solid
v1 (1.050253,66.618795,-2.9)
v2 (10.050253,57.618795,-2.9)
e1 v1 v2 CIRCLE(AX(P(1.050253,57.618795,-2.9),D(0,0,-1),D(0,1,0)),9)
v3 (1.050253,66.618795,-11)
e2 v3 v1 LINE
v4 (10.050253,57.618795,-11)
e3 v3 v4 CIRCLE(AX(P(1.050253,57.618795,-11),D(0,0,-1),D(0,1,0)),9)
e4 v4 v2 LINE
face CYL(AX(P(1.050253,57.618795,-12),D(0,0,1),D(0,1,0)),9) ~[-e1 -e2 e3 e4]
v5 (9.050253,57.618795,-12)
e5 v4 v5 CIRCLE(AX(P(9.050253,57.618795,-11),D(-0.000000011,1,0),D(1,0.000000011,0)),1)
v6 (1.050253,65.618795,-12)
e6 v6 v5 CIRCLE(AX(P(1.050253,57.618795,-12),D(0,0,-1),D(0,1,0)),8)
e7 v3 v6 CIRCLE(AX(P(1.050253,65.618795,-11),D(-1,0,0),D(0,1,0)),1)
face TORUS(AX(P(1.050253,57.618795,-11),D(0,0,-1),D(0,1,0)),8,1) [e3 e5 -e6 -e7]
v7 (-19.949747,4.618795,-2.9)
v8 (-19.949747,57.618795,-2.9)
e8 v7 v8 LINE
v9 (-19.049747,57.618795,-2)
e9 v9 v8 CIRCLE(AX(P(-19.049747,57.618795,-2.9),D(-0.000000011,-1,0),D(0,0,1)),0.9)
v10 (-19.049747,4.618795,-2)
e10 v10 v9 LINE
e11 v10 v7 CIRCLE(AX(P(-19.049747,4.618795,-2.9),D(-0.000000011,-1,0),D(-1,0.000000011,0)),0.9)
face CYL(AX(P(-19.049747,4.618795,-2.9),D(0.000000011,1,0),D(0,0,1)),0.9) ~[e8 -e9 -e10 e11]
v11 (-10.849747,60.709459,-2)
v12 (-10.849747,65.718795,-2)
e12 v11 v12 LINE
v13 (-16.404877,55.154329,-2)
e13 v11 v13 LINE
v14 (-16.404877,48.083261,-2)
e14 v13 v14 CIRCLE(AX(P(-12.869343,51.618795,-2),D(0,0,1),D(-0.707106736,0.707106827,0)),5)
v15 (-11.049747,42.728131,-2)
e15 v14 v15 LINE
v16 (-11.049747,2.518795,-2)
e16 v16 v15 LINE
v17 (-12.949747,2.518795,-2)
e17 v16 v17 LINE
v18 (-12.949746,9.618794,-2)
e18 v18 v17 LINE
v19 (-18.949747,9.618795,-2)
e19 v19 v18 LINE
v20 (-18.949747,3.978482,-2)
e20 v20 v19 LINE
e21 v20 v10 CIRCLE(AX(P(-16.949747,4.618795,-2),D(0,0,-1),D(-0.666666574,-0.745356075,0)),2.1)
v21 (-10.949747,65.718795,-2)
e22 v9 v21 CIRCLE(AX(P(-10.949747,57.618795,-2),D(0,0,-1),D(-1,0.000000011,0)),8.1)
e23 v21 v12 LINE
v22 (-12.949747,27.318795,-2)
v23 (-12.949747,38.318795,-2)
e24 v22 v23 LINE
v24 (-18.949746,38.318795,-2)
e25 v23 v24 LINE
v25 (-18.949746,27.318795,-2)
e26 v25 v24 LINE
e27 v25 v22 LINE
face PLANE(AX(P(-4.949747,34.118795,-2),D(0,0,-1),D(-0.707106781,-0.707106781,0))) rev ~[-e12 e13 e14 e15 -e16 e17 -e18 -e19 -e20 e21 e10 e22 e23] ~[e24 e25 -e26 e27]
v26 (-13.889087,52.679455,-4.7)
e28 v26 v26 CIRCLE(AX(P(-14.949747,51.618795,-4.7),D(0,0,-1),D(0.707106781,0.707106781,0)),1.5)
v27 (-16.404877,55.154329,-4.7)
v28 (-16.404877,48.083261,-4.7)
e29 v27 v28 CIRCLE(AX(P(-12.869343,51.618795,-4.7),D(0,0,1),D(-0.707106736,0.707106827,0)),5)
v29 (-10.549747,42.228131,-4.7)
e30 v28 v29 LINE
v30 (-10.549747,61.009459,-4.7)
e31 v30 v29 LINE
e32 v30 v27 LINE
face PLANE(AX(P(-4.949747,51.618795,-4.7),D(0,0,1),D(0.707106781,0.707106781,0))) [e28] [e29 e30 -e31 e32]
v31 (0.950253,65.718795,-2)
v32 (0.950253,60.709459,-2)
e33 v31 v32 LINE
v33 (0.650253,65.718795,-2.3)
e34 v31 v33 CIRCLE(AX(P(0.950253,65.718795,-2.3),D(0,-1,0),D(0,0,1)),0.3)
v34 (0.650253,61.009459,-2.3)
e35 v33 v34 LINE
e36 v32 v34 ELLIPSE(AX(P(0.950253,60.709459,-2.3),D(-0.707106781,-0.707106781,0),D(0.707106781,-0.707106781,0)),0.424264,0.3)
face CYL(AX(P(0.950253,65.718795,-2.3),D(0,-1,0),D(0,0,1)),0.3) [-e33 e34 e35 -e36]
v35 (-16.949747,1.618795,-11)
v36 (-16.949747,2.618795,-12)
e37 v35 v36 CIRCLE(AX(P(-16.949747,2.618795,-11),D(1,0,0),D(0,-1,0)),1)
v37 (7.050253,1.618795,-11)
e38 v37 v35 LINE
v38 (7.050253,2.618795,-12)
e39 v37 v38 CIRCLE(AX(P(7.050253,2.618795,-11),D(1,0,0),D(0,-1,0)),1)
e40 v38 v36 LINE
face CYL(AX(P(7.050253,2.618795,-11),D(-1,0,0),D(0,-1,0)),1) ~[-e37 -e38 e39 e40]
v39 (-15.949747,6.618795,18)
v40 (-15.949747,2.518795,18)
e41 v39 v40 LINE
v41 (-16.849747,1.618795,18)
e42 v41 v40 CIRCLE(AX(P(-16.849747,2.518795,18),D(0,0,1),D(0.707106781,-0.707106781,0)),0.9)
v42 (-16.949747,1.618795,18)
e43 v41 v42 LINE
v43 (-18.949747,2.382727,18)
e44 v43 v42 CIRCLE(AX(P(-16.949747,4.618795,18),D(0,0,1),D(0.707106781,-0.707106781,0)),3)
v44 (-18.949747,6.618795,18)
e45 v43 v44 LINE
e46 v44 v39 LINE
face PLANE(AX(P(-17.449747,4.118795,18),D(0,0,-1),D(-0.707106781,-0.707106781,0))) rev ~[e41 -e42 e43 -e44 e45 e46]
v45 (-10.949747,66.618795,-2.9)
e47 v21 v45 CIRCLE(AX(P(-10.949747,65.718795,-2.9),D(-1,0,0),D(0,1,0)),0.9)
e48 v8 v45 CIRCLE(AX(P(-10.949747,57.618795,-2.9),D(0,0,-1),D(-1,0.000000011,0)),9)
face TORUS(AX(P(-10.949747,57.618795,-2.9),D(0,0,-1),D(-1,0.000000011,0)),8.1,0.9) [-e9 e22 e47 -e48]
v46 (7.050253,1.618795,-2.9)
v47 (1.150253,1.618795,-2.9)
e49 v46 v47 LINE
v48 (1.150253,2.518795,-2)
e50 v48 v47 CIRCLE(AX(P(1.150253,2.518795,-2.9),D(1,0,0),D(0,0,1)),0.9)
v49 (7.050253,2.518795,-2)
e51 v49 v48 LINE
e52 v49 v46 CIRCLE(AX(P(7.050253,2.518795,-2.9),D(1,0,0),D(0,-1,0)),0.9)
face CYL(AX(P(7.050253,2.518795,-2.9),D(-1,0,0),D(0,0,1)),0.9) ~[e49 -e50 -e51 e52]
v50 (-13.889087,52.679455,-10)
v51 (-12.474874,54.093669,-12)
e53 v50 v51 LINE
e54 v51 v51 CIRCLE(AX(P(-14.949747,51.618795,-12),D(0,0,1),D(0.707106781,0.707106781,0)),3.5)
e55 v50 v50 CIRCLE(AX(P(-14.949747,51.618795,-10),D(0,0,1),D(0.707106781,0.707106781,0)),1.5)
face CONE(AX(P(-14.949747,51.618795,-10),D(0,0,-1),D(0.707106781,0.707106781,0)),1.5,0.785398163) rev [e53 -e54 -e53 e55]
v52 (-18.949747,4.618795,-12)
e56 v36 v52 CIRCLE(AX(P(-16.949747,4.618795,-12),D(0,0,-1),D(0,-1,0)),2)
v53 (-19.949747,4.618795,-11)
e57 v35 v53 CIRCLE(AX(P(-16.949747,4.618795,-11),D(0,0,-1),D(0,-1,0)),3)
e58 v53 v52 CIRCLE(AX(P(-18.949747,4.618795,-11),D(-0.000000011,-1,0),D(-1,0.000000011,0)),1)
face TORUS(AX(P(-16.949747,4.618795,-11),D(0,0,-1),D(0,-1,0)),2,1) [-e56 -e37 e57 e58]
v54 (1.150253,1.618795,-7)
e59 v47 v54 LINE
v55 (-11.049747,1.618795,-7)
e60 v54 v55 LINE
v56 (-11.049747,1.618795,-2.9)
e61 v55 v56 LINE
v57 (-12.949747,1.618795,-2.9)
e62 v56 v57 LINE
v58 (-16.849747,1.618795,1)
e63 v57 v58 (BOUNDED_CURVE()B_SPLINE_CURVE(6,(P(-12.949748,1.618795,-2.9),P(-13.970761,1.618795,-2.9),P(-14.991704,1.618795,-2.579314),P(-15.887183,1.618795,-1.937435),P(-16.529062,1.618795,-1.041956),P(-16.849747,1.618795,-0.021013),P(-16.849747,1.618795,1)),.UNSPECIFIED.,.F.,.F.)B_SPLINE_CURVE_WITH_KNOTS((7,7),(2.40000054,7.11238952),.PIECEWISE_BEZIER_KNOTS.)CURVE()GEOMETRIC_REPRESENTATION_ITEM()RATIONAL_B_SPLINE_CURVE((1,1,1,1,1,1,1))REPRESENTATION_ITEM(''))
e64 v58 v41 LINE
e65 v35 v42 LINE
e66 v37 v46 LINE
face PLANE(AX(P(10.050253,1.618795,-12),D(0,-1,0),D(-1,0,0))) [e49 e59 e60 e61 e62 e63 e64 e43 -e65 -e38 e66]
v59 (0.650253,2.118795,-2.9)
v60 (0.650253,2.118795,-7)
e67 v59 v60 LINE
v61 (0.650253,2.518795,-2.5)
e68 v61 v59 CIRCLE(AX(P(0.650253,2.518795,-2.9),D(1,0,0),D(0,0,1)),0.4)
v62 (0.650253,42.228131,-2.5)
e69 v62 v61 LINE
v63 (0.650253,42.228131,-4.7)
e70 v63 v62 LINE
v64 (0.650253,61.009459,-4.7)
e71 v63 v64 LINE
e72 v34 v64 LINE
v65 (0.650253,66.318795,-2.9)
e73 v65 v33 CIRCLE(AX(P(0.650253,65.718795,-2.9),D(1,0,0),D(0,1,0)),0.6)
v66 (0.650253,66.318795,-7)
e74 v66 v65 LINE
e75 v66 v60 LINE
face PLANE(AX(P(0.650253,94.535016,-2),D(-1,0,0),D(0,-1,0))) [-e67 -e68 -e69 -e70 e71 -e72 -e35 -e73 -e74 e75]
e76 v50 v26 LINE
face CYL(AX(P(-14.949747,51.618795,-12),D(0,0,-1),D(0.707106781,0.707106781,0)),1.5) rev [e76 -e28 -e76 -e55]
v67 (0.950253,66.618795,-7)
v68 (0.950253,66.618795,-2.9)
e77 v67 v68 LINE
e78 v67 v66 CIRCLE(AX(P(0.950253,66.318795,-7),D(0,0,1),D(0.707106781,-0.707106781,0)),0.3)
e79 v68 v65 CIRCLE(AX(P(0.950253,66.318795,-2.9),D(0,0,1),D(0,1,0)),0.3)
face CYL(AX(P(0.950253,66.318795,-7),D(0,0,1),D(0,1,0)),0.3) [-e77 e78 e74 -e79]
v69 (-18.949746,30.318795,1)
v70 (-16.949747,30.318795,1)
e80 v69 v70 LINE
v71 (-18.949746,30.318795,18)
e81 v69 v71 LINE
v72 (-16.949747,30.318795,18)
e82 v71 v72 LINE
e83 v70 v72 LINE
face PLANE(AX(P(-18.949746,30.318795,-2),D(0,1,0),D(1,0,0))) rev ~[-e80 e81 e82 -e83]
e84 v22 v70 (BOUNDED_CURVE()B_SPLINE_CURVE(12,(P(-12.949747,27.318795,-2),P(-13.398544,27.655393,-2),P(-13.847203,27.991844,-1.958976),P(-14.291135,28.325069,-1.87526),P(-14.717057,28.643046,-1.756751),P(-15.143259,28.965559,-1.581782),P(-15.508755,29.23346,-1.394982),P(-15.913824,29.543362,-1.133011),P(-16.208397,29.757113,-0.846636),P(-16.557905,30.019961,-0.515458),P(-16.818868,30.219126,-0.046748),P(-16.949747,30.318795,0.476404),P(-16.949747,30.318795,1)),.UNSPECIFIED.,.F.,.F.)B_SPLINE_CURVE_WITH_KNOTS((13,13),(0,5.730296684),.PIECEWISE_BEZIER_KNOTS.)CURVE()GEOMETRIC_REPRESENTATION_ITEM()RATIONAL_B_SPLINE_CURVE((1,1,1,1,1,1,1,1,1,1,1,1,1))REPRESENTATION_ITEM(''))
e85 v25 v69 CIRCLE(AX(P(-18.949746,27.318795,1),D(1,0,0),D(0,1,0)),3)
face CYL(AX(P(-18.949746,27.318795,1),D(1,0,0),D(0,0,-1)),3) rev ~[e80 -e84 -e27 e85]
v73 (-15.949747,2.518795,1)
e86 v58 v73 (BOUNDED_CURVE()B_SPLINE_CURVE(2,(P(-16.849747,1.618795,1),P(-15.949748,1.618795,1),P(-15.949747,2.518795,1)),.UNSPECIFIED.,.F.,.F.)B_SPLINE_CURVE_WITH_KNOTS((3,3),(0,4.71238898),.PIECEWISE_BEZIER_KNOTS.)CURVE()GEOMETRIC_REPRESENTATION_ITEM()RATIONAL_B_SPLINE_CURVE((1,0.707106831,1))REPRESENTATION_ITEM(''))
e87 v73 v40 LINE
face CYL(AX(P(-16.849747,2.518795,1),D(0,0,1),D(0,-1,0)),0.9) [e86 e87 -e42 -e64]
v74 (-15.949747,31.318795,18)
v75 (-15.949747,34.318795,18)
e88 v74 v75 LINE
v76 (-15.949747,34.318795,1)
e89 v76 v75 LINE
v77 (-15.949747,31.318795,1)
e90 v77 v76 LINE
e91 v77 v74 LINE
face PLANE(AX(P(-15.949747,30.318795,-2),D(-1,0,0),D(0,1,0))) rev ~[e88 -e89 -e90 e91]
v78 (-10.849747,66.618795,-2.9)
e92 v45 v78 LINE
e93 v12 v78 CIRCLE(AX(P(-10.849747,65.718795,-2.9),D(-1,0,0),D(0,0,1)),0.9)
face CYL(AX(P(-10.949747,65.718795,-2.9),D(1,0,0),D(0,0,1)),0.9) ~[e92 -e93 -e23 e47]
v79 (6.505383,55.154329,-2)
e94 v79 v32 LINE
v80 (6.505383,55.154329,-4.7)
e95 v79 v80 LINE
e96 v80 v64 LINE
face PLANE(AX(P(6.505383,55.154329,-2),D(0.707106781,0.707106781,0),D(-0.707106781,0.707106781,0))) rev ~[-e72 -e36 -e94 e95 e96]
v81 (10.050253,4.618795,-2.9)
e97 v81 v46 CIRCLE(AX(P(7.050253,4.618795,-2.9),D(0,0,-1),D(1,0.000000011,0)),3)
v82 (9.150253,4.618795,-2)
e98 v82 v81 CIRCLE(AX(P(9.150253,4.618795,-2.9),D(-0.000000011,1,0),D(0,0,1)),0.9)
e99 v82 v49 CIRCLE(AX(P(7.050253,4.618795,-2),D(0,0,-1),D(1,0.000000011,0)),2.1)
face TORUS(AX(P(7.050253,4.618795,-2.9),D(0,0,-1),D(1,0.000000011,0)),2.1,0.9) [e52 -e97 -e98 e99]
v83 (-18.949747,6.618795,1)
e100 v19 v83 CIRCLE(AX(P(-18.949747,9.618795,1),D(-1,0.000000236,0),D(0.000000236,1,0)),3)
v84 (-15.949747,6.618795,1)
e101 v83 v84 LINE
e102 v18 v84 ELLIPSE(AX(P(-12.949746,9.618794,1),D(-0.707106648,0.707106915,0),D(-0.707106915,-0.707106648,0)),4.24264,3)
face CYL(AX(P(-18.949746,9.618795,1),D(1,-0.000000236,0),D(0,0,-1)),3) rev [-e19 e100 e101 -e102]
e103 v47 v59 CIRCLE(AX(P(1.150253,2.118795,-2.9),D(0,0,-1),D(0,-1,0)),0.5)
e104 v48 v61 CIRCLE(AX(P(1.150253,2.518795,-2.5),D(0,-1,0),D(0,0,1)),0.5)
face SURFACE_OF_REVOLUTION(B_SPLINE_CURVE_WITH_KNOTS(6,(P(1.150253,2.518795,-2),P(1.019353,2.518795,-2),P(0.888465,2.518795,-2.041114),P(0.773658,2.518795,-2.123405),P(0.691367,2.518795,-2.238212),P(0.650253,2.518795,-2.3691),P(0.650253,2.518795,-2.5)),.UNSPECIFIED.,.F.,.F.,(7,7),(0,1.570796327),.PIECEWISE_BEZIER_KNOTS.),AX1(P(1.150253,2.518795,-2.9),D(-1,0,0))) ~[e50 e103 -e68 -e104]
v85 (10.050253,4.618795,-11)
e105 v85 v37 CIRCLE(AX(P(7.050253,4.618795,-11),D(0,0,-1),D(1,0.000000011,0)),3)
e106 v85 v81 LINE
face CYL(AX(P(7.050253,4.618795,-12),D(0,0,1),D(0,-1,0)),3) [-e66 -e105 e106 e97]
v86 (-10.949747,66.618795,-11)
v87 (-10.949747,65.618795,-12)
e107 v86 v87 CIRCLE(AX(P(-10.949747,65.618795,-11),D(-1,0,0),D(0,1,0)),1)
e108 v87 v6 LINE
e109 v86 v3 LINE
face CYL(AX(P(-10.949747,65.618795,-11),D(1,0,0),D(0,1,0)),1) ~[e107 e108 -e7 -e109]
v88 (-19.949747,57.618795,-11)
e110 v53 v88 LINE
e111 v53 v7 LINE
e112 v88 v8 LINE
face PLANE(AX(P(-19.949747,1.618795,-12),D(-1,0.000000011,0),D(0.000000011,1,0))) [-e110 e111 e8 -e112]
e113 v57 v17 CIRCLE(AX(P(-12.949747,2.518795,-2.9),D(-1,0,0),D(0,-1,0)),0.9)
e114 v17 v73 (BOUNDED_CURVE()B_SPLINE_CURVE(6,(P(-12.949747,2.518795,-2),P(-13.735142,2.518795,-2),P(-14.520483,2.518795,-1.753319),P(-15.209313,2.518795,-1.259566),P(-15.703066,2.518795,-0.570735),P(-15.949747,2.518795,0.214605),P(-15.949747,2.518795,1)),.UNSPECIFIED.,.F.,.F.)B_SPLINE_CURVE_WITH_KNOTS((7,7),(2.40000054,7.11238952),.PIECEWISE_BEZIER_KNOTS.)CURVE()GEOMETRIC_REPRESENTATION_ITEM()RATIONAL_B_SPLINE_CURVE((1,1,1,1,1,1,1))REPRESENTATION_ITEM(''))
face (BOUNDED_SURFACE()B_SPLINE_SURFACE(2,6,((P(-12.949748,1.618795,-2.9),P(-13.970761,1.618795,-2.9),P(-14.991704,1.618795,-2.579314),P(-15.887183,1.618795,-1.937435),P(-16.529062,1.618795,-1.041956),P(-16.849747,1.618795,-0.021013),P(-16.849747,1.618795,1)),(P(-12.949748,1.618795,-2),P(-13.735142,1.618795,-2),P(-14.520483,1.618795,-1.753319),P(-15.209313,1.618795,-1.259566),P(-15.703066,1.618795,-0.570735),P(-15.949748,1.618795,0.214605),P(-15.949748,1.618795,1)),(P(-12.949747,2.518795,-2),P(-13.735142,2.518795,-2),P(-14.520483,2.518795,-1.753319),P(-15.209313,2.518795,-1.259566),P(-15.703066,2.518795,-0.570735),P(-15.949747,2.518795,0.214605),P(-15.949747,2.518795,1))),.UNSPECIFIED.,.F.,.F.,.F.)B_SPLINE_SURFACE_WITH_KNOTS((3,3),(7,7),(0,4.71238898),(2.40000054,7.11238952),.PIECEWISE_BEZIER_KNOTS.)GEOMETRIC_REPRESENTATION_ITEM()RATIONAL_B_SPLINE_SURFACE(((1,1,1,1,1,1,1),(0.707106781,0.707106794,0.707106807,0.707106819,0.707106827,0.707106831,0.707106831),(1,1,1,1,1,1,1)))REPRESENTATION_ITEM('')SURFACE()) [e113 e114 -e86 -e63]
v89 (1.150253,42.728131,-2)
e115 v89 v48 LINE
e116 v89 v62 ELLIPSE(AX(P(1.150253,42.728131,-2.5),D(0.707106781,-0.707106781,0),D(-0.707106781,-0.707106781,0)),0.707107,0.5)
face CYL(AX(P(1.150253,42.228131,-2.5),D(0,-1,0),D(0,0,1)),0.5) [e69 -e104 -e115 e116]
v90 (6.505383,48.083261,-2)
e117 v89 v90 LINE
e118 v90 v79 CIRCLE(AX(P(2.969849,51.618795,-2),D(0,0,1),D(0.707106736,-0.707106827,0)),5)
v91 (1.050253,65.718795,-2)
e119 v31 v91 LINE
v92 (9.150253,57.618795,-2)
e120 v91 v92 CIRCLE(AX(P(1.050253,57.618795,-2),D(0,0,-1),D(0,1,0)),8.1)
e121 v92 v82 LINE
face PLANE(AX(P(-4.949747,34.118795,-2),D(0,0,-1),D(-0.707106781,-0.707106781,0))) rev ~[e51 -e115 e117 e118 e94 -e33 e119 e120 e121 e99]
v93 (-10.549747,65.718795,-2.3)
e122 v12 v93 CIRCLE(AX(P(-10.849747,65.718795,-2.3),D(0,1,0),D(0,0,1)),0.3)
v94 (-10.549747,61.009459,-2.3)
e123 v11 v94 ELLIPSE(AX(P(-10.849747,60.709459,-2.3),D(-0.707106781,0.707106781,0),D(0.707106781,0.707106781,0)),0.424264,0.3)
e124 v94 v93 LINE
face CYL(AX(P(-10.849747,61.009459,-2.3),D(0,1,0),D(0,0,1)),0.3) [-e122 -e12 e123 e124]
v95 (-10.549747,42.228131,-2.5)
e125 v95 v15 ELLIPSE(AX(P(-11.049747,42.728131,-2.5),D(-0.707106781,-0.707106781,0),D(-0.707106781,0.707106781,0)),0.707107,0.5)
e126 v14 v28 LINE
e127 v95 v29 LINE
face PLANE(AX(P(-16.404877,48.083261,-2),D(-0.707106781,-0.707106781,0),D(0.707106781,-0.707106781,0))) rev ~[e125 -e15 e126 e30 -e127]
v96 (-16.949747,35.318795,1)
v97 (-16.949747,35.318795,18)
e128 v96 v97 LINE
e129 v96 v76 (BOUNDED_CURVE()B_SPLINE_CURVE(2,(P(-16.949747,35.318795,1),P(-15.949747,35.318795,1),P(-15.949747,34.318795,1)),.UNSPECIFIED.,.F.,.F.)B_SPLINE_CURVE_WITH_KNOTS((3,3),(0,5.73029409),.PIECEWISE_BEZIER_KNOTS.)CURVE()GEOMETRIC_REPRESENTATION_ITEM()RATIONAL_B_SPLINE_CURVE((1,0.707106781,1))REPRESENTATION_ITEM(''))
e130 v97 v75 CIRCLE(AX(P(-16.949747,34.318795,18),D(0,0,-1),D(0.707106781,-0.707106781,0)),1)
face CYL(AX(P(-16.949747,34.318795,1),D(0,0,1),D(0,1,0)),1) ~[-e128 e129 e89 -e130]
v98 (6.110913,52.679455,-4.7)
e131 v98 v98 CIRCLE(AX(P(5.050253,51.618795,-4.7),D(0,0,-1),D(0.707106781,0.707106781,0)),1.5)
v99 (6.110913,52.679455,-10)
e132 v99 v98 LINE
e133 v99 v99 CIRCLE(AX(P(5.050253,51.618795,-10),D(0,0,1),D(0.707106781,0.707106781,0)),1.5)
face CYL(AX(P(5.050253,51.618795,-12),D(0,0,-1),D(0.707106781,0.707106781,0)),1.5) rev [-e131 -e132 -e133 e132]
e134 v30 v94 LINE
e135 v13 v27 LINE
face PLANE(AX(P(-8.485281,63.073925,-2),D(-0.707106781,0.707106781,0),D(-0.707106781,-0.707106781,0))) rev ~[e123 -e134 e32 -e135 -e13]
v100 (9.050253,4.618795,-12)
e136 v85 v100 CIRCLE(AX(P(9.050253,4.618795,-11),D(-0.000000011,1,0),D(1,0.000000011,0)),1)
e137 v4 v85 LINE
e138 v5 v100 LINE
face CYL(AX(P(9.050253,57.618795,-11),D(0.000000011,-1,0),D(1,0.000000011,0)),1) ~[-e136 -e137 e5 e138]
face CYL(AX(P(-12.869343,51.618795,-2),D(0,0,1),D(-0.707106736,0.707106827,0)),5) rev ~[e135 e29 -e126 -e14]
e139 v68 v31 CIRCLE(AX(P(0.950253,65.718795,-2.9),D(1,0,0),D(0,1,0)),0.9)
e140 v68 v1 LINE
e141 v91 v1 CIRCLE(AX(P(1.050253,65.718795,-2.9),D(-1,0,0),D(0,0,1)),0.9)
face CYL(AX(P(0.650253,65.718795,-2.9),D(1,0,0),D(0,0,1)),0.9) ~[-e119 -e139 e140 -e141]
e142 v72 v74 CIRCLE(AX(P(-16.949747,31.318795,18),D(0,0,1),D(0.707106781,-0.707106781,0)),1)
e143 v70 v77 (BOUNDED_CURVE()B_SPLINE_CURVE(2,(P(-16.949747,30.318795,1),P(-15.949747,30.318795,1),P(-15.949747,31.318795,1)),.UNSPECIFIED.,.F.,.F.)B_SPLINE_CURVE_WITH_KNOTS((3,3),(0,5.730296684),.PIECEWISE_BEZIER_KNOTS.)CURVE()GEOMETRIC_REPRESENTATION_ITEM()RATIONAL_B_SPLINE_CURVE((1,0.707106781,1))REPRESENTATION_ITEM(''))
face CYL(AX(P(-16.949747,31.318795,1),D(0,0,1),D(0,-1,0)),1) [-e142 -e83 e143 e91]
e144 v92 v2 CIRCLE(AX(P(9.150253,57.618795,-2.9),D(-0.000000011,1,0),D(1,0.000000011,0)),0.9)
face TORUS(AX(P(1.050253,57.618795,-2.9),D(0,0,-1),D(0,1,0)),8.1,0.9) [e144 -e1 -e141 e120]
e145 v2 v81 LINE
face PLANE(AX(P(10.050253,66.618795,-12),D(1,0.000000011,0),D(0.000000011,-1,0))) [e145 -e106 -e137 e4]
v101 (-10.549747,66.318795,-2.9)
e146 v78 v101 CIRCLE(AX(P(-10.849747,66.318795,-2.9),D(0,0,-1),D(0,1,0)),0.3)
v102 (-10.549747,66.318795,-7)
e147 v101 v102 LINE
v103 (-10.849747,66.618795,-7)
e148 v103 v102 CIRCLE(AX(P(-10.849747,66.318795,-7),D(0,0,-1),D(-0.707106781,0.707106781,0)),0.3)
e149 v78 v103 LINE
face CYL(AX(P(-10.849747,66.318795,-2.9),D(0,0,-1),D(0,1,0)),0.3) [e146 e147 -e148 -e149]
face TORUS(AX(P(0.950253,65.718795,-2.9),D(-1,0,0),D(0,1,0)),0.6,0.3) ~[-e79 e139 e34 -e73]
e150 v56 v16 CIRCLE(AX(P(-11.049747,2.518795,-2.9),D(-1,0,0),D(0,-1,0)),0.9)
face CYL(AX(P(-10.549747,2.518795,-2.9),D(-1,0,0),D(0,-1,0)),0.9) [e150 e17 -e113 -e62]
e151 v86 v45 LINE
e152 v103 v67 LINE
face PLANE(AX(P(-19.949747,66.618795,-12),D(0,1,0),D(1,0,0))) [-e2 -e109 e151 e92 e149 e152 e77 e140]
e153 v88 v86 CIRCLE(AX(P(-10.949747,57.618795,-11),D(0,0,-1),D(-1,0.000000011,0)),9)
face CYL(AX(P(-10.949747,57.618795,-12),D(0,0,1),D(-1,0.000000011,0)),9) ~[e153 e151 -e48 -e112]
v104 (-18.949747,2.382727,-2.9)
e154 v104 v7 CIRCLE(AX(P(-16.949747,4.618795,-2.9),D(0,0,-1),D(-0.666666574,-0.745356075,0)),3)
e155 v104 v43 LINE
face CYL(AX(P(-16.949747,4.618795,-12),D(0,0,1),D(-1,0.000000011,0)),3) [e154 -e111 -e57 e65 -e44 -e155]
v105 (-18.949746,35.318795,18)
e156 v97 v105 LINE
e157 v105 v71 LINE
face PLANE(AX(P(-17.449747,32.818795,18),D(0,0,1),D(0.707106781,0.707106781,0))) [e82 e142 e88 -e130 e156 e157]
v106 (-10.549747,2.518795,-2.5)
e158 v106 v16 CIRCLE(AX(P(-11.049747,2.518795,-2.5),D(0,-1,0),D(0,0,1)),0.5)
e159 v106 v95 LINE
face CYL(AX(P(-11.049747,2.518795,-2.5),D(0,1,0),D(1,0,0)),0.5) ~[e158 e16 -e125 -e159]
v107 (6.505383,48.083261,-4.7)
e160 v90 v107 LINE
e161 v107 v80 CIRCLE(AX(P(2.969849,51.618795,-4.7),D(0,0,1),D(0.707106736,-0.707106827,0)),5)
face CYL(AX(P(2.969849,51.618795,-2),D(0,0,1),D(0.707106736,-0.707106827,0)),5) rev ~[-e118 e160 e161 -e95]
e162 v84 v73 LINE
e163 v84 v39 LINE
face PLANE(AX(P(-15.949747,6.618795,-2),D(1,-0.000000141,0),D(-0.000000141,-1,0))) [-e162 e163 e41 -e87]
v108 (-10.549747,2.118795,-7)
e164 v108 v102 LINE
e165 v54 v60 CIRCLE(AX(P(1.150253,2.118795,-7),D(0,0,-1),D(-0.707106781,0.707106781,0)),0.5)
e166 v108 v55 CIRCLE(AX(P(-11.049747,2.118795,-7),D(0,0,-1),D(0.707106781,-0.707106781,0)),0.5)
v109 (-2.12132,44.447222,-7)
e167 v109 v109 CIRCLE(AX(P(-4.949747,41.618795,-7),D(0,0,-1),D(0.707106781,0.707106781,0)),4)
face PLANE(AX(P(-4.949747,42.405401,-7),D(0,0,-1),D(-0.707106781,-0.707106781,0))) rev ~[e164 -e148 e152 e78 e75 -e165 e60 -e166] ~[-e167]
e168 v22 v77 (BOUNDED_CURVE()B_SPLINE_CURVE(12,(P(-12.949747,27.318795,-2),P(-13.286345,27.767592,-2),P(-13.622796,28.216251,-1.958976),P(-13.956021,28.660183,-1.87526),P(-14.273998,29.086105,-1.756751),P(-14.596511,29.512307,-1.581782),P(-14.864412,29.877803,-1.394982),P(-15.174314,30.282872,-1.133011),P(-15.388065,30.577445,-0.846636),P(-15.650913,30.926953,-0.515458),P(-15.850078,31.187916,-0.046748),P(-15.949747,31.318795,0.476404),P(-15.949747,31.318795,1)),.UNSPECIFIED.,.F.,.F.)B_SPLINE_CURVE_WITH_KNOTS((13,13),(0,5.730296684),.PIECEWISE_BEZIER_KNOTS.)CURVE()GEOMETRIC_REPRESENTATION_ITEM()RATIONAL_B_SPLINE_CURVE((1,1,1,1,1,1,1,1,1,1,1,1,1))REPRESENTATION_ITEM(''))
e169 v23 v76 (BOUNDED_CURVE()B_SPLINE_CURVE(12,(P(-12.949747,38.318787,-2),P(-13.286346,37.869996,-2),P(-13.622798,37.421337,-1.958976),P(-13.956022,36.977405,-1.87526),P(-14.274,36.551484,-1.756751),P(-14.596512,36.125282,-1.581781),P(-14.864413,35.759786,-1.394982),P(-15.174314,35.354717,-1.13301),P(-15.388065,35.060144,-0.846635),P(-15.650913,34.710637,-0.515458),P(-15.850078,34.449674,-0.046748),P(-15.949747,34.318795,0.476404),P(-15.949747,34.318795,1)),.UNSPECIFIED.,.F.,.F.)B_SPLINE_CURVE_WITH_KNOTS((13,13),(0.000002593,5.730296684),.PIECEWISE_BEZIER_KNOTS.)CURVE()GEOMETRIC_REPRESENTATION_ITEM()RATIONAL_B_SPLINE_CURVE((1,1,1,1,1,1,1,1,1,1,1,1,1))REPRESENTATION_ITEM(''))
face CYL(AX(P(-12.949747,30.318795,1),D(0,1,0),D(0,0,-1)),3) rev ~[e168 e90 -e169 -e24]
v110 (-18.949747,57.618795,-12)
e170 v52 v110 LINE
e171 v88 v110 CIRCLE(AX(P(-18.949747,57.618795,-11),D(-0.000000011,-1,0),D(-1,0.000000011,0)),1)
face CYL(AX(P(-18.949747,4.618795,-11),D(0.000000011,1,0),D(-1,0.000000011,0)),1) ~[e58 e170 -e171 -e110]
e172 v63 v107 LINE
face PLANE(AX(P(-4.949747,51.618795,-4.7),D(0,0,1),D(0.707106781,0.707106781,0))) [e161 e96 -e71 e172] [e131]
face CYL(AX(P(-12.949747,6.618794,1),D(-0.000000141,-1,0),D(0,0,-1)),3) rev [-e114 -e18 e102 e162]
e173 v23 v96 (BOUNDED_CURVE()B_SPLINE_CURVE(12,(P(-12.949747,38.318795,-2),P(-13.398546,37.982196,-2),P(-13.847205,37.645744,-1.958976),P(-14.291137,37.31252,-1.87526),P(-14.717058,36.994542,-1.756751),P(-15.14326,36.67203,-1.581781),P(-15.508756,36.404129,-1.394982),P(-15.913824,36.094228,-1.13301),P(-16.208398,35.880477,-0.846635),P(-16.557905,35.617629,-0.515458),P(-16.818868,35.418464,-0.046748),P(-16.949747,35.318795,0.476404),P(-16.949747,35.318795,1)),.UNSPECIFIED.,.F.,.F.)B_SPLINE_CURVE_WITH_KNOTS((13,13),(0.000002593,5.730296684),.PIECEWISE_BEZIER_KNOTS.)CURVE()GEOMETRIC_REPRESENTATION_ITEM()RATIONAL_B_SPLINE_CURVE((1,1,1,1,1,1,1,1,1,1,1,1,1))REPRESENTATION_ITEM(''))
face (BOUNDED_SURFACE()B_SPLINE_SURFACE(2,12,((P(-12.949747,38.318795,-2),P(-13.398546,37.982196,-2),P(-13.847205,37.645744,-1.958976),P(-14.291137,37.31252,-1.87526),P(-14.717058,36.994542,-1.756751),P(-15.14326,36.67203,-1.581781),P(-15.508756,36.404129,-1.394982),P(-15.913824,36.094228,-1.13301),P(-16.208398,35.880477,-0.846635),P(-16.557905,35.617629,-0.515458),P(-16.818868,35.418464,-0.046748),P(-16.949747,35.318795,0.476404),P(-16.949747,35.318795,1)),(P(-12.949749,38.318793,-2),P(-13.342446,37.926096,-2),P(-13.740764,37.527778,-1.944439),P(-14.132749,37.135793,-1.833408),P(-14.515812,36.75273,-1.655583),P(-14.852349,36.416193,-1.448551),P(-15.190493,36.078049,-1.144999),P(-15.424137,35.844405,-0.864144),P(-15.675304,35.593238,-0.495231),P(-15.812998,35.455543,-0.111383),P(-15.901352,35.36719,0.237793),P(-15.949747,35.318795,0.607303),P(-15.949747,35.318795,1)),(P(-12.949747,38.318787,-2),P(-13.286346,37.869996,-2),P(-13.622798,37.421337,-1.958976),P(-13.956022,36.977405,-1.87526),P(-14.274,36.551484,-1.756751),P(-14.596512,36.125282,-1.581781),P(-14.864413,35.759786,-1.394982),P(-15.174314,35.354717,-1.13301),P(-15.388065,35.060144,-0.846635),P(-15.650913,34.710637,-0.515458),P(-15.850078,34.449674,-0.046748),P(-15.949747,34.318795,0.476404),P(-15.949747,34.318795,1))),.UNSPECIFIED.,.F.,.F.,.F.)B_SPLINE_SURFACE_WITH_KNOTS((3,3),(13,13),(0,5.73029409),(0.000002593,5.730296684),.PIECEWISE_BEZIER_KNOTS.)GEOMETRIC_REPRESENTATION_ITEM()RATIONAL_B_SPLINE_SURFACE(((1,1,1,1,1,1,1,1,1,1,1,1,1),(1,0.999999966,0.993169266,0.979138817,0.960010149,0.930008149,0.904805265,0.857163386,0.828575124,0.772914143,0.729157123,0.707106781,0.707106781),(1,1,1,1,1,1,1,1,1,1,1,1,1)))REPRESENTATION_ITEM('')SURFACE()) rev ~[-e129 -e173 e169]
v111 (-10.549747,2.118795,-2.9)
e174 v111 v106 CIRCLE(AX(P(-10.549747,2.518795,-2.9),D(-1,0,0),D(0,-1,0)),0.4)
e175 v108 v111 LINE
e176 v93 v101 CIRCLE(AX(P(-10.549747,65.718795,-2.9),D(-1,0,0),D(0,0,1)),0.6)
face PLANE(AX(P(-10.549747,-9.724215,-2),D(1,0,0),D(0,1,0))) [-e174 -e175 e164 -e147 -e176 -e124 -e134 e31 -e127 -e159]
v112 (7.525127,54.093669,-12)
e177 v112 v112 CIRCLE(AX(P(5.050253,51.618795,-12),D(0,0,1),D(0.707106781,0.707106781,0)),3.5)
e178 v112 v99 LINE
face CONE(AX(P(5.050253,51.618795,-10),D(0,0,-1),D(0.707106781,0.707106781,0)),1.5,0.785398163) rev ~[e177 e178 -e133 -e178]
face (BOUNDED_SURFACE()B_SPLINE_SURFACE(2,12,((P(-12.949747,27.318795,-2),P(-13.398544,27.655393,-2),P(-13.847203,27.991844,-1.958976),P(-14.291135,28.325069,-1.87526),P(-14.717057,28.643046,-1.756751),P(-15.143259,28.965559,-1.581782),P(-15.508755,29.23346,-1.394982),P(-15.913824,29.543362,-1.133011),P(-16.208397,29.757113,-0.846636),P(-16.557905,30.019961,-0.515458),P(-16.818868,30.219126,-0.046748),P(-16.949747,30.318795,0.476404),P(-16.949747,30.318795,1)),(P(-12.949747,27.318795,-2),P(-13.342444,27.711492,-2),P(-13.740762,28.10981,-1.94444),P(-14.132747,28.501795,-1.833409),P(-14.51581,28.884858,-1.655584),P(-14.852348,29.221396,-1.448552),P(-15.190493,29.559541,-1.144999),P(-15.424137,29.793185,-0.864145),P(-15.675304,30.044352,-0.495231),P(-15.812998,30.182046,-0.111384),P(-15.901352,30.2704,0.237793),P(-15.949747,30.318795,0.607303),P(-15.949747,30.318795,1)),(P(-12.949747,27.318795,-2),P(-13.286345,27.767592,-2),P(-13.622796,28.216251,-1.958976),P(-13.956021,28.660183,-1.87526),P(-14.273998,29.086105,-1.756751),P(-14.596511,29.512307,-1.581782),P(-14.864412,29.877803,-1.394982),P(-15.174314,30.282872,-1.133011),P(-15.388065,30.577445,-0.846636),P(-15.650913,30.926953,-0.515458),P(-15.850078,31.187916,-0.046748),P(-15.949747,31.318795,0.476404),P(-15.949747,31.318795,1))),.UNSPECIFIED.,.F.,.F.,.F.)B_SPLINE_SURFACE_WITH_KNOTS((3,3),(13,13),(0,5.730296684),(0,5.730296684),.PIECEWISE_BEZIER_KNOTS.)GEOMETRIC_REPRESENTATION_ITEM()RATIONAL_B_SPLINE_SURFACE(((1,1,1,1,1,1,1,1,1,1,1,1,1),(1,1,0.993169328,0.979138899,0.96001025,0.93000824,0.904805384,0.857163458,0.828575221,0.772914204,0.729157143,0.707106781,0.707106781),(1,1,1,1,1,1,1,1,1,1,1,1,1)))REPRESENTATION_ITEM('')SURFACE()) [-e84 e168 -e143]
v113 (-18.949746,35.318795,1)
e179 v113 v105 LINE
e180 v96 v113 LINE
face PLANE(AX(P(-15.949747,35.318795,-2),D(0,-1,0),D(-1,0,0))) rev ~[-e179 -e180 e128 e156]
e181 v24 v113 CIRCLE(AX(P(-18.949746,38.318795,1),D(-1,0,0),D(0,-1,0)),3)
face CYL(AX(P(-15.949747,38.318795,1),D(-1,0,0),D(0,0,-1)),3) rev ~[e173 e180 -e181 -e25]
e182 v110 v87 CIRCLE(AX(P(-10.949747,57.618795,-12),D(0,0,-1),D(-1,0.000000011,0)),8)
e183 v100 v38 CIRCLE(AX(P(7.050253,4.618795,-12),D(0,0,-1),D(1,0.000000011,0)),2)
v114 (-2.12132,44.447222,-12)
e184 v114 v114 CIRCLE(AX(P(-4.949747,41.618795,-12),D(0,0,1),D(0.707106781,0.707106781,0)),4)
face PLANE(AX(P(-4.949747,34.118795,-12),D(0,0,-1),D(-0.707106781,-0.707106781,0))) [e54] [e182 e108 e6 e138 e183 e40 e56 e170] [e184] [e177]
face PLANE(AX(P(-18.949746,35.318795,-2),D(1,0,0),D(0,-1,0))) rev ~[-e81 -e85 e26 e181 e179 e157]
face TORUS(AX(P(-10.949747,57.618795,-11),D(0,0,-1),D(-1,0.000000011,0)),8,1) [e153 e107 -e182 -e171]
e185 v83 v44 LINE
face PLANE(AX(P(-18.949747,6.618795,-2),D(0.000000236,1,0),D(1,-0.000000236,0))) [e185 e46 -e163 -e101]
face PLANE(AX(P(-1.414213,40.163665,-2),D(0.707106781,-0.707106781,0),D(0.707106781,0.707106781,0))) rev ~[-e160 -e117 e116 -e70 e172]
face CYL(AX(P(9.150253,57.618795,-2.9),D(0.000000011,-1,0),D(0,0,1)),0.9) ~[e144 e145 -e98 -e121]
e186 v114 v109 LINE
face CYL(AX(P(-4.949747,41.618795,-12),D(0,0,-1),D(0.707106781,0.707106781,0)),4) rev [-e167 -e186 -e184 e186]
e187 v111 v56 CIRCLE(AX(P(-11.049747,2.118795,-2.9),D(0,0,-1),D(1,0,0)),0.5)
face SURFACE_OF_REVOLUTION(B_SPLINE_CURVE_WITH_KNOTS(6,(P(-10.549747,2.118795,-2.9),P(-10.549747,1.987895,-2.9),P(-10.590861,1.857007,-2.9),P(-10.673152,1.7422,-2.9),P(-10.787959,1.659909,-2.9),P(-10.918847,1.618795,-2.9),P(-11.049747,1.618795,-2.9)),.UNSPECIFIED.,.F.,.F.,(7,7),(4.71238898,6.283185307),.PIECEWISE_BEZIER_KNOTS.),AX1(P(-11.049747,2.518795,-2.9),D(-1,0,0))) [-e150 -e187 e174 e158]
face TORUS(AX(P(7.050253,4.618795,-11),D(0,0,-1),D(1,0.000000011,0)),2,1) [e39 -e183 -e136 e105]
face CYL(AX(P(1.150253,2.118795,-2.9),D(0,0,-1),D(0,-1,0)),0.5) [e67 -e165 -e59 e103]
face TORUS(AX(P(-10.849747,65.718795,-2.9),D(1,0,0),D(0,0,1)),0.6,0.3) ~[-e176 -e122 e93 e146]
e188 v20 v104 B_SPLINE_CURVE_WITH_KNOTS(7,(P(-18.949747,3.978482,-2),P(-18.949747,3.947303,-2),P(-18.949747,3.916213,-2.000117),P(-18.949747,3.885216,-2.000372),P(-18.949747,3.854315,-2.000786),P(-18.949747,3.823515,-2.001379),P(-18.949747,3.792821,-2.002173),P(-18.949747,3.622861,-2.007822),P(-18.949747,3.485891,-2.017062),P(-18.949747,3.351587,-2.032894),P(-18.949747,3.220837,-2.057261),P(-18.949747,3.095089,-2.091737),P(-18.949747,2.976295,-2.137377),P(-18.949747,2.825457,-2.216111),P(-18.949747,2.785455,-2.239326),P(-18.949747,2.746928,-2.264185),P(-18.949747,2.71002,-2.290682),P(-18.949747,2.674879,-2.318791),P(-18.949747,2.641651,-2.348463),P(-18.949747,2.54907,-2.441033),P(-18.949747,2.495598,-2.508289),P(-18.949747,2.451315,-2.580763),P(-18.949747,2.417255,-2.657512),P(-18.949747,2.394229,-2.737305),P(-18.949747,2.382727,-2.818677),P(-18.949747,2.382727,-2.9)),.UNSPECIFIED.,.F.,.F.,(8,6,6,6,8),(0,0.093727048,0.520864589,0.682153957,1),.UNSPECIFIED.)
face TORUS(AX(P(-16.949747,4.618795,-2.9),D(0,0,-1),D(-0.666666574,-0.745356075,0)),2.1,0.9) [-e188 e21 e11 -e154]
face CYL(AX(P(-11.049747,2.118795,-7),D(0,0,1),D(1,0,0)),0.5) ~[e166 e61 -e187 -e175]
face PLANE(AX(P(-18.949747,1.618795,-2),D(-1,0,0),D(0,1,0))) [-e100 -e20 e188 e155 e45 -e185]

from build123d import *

# Parameters (mm, degrees)
SKETCH010_R             = 4
SKETCH010_R_2           = 1.5
PAD_DEPTH               = 10
POCKET003_DEPTH         = 5
POCKET004_DEPTH         = 2.7
PAD010_DEPTH            = 20
FILLET001_R             = 9
FILLET002_R             = 3
FILLET003_R             = 3
FILLET004_R             = 0.9
CHAMFER_SIZE            = 2
FILLET005_R             = 0.9
FILLET006_R             = 1
FILLET007_R             = 0.5
FILLET008_R             = 0.3
FILLET009_R             = 1
BODY001_PLACEMENT_ANGLE = 45


with BuildPart() as part:
    # Sketch010 → Pad (new body)
    with BuildSketch(Plane.XY):
        Polygon((-45.961941, -24.748737), (0, 21.213203), (21.213203, 0), (-24.748737, -45.961941), align=None)
        with Locations((-7.071068, -7.071068)):
            Circle(SKETCH010_R, mode=Mode.SUBTRACT)
        with Locations((-7.071068, 7.071068)):
            Circle(SKETCH010_R_2, mode=Mode.SUBTRACT)
        with Locations((7.071068, -7.071068)):
            Circle(SKETCH010_R_2, mode=Mode.SUBTRACT)
    extrude(amount=PAD_DEPTH)

    # Sketch011 → Pocket003 (cut)
    with BuildSketch(Plane.XY.offset(10)):
        Polygon((-47.335856, -39.41626), (26.386553, 34.306149), (34.306149, 26.386553), (-39.41626, -47.335856), align=None)
    extrude(amount=-POCKET003_DEPTH, mode=Mode.SUBTRACT)

    # Sketch017 → Pocket004 (cut)
    with BuildSketch(Plane.XY.offset(10)):
        with BuildLine():
            ThreePointArc((-5.6, 10.6), (-9.135534, 9.135534), (-10.6, 5.6))
            Line((-10.6, 5.6), (-10.6, -5.6))
            ThreePointArc((-10.6, -5.6), (-9.135534, -9.135534), (-5.6, -10.6))
            Line((-5.6, -10.6), (5.6, -10.6))
            ThreePointArc((5.6, -10.6), (9.135534, -9.135534), (10.6, -5.6))
            Line((10.6, -5.6), (10.6, 5.6))
            ThreePointArc((10.6, 5.6), (9.135534, 9.135534), (5.6, 10.6))
            Line((5.6, 10.6), (-5.6, 10.6))
        make_face()
    extrude(amount=-POCKET004_DEPTH, mode=Mode.SUBTRACT)

    # Sketch023 → Pad010 (join)
    with BuildSketch(Plane.XY.offset(10)):
        Polygon((-41.7193, -21.92031), (-39.59798, -24.041631), (-43.133514, -27.577164), (-45.254834, -25.455844), align=None)
        Polygon((-24.960869, -5.16188), (-22.839549, -7.2832), (-19.304015, -3.747666), (-21.425335, -1.626346), align=None)
    extrude(amount=PAD010_DEPTH)

    # Fillet001
    fillet001_edges = [part.edges().sort_by_distance(p)[0] for p in [
        (0, 21.213203, 5),
        (21.213203, 0, 5),
    ]]
    fillet(fillet001_edges, radius=FILLET001_R)

    # Fillet002
    fillet002_edges = [part.edges().sort_by_distance(p)[0] for p in [
        (-45.961941, -24.748737, 5),
        (-24.748737, -45.961941, 5),
    ]]
    fillet(fillet002_edges, radius=FILLET002_R)

    # Fillet003
    fillet003_edges = [part.edges().sort_by_distance(p)[0] for p in [
        (-41.365747, -25.809398, 10),
        (-21.071782, -5.515433, 10),
        (-40.65864, -22.98097, 10),
        (-20.364675, -2.687006, 10),
        (-23.900209, -6.22254, 10),
    ]]
    fillet(fillet003_edges, radius=FILLET003_R)

    # Fillet004
    fillet004_edges = [part.edges().sort_by_distance(p)[0] for p in [
        (-25.102291, -3.889087, 10),
        (-3.889087, -25.102291, 10),
    ]]
    fillet(fillet004_edges, radius=FILLET004_R)

    # Chamfer
    chamfer_edges = [part.edges().sort_by_distance(p)[0] for p in [
        (5.571068, -7.071068, 0),
        (-8.571068, 7.071068, 0),
    ]]
    chamfer(chamfer_edges, length=CHAMFER_SIZE)

    # Fillet005
    fillet005_edges = [part.edges().sort_by_distance(p)[0] for p in [
        (-40.163665, -30.547013, 10),
    ]]
    fillet(fillet005_edges, radius=FILLET005_R)

    # Fillet006
    fillet006_edges = [part.edges().sort_by_distance(p)[0] for p in [
        (-22.839549, -7.2832, 21.5),
        (-19.304015, -3.747666, 21.5),
    ]]
    fillet(fillet006_edges, radius=FILLET006_R)

    # Fillet007
    fillet007_edges = [part.edges().sort_by_distance(p)[0] for p in [
        (-39.315137, -31.395541, 7.05),
        (-31.395541, -39.315137, 7.05),
    ]]
    fillet(fillet007_edges, radius=FILLET007_R)

    # Fillet008
    fillet008_edges = [part.edges().sort_by_distance(p)[0] for p in [
        (6.646804, 14.5664, 7.05),
        (14.5664, 6.646804, 7.05),
    ]]
    fillet(fillet008_edges, radius=FILLET008_R)

    # Fillet009
    fillet009_edges = [part.edges().sort_by_distance(p)[0] for p in [
        (-25.102291, -3.889087, 0),
    ]]
    fillet(fillet009_edges, radius=FILLET009_R)


with BuildPart() as part_1:
    # Body001 placement: moved
    add(part.part.moved(Location((-4.949747, 51.618795, -12))).rotate(Axis((-4.949747, 51.618795, -12), (0, 0, 1)), BODY001_PLACEMENT_ANGLE))


solid = part_1.part
